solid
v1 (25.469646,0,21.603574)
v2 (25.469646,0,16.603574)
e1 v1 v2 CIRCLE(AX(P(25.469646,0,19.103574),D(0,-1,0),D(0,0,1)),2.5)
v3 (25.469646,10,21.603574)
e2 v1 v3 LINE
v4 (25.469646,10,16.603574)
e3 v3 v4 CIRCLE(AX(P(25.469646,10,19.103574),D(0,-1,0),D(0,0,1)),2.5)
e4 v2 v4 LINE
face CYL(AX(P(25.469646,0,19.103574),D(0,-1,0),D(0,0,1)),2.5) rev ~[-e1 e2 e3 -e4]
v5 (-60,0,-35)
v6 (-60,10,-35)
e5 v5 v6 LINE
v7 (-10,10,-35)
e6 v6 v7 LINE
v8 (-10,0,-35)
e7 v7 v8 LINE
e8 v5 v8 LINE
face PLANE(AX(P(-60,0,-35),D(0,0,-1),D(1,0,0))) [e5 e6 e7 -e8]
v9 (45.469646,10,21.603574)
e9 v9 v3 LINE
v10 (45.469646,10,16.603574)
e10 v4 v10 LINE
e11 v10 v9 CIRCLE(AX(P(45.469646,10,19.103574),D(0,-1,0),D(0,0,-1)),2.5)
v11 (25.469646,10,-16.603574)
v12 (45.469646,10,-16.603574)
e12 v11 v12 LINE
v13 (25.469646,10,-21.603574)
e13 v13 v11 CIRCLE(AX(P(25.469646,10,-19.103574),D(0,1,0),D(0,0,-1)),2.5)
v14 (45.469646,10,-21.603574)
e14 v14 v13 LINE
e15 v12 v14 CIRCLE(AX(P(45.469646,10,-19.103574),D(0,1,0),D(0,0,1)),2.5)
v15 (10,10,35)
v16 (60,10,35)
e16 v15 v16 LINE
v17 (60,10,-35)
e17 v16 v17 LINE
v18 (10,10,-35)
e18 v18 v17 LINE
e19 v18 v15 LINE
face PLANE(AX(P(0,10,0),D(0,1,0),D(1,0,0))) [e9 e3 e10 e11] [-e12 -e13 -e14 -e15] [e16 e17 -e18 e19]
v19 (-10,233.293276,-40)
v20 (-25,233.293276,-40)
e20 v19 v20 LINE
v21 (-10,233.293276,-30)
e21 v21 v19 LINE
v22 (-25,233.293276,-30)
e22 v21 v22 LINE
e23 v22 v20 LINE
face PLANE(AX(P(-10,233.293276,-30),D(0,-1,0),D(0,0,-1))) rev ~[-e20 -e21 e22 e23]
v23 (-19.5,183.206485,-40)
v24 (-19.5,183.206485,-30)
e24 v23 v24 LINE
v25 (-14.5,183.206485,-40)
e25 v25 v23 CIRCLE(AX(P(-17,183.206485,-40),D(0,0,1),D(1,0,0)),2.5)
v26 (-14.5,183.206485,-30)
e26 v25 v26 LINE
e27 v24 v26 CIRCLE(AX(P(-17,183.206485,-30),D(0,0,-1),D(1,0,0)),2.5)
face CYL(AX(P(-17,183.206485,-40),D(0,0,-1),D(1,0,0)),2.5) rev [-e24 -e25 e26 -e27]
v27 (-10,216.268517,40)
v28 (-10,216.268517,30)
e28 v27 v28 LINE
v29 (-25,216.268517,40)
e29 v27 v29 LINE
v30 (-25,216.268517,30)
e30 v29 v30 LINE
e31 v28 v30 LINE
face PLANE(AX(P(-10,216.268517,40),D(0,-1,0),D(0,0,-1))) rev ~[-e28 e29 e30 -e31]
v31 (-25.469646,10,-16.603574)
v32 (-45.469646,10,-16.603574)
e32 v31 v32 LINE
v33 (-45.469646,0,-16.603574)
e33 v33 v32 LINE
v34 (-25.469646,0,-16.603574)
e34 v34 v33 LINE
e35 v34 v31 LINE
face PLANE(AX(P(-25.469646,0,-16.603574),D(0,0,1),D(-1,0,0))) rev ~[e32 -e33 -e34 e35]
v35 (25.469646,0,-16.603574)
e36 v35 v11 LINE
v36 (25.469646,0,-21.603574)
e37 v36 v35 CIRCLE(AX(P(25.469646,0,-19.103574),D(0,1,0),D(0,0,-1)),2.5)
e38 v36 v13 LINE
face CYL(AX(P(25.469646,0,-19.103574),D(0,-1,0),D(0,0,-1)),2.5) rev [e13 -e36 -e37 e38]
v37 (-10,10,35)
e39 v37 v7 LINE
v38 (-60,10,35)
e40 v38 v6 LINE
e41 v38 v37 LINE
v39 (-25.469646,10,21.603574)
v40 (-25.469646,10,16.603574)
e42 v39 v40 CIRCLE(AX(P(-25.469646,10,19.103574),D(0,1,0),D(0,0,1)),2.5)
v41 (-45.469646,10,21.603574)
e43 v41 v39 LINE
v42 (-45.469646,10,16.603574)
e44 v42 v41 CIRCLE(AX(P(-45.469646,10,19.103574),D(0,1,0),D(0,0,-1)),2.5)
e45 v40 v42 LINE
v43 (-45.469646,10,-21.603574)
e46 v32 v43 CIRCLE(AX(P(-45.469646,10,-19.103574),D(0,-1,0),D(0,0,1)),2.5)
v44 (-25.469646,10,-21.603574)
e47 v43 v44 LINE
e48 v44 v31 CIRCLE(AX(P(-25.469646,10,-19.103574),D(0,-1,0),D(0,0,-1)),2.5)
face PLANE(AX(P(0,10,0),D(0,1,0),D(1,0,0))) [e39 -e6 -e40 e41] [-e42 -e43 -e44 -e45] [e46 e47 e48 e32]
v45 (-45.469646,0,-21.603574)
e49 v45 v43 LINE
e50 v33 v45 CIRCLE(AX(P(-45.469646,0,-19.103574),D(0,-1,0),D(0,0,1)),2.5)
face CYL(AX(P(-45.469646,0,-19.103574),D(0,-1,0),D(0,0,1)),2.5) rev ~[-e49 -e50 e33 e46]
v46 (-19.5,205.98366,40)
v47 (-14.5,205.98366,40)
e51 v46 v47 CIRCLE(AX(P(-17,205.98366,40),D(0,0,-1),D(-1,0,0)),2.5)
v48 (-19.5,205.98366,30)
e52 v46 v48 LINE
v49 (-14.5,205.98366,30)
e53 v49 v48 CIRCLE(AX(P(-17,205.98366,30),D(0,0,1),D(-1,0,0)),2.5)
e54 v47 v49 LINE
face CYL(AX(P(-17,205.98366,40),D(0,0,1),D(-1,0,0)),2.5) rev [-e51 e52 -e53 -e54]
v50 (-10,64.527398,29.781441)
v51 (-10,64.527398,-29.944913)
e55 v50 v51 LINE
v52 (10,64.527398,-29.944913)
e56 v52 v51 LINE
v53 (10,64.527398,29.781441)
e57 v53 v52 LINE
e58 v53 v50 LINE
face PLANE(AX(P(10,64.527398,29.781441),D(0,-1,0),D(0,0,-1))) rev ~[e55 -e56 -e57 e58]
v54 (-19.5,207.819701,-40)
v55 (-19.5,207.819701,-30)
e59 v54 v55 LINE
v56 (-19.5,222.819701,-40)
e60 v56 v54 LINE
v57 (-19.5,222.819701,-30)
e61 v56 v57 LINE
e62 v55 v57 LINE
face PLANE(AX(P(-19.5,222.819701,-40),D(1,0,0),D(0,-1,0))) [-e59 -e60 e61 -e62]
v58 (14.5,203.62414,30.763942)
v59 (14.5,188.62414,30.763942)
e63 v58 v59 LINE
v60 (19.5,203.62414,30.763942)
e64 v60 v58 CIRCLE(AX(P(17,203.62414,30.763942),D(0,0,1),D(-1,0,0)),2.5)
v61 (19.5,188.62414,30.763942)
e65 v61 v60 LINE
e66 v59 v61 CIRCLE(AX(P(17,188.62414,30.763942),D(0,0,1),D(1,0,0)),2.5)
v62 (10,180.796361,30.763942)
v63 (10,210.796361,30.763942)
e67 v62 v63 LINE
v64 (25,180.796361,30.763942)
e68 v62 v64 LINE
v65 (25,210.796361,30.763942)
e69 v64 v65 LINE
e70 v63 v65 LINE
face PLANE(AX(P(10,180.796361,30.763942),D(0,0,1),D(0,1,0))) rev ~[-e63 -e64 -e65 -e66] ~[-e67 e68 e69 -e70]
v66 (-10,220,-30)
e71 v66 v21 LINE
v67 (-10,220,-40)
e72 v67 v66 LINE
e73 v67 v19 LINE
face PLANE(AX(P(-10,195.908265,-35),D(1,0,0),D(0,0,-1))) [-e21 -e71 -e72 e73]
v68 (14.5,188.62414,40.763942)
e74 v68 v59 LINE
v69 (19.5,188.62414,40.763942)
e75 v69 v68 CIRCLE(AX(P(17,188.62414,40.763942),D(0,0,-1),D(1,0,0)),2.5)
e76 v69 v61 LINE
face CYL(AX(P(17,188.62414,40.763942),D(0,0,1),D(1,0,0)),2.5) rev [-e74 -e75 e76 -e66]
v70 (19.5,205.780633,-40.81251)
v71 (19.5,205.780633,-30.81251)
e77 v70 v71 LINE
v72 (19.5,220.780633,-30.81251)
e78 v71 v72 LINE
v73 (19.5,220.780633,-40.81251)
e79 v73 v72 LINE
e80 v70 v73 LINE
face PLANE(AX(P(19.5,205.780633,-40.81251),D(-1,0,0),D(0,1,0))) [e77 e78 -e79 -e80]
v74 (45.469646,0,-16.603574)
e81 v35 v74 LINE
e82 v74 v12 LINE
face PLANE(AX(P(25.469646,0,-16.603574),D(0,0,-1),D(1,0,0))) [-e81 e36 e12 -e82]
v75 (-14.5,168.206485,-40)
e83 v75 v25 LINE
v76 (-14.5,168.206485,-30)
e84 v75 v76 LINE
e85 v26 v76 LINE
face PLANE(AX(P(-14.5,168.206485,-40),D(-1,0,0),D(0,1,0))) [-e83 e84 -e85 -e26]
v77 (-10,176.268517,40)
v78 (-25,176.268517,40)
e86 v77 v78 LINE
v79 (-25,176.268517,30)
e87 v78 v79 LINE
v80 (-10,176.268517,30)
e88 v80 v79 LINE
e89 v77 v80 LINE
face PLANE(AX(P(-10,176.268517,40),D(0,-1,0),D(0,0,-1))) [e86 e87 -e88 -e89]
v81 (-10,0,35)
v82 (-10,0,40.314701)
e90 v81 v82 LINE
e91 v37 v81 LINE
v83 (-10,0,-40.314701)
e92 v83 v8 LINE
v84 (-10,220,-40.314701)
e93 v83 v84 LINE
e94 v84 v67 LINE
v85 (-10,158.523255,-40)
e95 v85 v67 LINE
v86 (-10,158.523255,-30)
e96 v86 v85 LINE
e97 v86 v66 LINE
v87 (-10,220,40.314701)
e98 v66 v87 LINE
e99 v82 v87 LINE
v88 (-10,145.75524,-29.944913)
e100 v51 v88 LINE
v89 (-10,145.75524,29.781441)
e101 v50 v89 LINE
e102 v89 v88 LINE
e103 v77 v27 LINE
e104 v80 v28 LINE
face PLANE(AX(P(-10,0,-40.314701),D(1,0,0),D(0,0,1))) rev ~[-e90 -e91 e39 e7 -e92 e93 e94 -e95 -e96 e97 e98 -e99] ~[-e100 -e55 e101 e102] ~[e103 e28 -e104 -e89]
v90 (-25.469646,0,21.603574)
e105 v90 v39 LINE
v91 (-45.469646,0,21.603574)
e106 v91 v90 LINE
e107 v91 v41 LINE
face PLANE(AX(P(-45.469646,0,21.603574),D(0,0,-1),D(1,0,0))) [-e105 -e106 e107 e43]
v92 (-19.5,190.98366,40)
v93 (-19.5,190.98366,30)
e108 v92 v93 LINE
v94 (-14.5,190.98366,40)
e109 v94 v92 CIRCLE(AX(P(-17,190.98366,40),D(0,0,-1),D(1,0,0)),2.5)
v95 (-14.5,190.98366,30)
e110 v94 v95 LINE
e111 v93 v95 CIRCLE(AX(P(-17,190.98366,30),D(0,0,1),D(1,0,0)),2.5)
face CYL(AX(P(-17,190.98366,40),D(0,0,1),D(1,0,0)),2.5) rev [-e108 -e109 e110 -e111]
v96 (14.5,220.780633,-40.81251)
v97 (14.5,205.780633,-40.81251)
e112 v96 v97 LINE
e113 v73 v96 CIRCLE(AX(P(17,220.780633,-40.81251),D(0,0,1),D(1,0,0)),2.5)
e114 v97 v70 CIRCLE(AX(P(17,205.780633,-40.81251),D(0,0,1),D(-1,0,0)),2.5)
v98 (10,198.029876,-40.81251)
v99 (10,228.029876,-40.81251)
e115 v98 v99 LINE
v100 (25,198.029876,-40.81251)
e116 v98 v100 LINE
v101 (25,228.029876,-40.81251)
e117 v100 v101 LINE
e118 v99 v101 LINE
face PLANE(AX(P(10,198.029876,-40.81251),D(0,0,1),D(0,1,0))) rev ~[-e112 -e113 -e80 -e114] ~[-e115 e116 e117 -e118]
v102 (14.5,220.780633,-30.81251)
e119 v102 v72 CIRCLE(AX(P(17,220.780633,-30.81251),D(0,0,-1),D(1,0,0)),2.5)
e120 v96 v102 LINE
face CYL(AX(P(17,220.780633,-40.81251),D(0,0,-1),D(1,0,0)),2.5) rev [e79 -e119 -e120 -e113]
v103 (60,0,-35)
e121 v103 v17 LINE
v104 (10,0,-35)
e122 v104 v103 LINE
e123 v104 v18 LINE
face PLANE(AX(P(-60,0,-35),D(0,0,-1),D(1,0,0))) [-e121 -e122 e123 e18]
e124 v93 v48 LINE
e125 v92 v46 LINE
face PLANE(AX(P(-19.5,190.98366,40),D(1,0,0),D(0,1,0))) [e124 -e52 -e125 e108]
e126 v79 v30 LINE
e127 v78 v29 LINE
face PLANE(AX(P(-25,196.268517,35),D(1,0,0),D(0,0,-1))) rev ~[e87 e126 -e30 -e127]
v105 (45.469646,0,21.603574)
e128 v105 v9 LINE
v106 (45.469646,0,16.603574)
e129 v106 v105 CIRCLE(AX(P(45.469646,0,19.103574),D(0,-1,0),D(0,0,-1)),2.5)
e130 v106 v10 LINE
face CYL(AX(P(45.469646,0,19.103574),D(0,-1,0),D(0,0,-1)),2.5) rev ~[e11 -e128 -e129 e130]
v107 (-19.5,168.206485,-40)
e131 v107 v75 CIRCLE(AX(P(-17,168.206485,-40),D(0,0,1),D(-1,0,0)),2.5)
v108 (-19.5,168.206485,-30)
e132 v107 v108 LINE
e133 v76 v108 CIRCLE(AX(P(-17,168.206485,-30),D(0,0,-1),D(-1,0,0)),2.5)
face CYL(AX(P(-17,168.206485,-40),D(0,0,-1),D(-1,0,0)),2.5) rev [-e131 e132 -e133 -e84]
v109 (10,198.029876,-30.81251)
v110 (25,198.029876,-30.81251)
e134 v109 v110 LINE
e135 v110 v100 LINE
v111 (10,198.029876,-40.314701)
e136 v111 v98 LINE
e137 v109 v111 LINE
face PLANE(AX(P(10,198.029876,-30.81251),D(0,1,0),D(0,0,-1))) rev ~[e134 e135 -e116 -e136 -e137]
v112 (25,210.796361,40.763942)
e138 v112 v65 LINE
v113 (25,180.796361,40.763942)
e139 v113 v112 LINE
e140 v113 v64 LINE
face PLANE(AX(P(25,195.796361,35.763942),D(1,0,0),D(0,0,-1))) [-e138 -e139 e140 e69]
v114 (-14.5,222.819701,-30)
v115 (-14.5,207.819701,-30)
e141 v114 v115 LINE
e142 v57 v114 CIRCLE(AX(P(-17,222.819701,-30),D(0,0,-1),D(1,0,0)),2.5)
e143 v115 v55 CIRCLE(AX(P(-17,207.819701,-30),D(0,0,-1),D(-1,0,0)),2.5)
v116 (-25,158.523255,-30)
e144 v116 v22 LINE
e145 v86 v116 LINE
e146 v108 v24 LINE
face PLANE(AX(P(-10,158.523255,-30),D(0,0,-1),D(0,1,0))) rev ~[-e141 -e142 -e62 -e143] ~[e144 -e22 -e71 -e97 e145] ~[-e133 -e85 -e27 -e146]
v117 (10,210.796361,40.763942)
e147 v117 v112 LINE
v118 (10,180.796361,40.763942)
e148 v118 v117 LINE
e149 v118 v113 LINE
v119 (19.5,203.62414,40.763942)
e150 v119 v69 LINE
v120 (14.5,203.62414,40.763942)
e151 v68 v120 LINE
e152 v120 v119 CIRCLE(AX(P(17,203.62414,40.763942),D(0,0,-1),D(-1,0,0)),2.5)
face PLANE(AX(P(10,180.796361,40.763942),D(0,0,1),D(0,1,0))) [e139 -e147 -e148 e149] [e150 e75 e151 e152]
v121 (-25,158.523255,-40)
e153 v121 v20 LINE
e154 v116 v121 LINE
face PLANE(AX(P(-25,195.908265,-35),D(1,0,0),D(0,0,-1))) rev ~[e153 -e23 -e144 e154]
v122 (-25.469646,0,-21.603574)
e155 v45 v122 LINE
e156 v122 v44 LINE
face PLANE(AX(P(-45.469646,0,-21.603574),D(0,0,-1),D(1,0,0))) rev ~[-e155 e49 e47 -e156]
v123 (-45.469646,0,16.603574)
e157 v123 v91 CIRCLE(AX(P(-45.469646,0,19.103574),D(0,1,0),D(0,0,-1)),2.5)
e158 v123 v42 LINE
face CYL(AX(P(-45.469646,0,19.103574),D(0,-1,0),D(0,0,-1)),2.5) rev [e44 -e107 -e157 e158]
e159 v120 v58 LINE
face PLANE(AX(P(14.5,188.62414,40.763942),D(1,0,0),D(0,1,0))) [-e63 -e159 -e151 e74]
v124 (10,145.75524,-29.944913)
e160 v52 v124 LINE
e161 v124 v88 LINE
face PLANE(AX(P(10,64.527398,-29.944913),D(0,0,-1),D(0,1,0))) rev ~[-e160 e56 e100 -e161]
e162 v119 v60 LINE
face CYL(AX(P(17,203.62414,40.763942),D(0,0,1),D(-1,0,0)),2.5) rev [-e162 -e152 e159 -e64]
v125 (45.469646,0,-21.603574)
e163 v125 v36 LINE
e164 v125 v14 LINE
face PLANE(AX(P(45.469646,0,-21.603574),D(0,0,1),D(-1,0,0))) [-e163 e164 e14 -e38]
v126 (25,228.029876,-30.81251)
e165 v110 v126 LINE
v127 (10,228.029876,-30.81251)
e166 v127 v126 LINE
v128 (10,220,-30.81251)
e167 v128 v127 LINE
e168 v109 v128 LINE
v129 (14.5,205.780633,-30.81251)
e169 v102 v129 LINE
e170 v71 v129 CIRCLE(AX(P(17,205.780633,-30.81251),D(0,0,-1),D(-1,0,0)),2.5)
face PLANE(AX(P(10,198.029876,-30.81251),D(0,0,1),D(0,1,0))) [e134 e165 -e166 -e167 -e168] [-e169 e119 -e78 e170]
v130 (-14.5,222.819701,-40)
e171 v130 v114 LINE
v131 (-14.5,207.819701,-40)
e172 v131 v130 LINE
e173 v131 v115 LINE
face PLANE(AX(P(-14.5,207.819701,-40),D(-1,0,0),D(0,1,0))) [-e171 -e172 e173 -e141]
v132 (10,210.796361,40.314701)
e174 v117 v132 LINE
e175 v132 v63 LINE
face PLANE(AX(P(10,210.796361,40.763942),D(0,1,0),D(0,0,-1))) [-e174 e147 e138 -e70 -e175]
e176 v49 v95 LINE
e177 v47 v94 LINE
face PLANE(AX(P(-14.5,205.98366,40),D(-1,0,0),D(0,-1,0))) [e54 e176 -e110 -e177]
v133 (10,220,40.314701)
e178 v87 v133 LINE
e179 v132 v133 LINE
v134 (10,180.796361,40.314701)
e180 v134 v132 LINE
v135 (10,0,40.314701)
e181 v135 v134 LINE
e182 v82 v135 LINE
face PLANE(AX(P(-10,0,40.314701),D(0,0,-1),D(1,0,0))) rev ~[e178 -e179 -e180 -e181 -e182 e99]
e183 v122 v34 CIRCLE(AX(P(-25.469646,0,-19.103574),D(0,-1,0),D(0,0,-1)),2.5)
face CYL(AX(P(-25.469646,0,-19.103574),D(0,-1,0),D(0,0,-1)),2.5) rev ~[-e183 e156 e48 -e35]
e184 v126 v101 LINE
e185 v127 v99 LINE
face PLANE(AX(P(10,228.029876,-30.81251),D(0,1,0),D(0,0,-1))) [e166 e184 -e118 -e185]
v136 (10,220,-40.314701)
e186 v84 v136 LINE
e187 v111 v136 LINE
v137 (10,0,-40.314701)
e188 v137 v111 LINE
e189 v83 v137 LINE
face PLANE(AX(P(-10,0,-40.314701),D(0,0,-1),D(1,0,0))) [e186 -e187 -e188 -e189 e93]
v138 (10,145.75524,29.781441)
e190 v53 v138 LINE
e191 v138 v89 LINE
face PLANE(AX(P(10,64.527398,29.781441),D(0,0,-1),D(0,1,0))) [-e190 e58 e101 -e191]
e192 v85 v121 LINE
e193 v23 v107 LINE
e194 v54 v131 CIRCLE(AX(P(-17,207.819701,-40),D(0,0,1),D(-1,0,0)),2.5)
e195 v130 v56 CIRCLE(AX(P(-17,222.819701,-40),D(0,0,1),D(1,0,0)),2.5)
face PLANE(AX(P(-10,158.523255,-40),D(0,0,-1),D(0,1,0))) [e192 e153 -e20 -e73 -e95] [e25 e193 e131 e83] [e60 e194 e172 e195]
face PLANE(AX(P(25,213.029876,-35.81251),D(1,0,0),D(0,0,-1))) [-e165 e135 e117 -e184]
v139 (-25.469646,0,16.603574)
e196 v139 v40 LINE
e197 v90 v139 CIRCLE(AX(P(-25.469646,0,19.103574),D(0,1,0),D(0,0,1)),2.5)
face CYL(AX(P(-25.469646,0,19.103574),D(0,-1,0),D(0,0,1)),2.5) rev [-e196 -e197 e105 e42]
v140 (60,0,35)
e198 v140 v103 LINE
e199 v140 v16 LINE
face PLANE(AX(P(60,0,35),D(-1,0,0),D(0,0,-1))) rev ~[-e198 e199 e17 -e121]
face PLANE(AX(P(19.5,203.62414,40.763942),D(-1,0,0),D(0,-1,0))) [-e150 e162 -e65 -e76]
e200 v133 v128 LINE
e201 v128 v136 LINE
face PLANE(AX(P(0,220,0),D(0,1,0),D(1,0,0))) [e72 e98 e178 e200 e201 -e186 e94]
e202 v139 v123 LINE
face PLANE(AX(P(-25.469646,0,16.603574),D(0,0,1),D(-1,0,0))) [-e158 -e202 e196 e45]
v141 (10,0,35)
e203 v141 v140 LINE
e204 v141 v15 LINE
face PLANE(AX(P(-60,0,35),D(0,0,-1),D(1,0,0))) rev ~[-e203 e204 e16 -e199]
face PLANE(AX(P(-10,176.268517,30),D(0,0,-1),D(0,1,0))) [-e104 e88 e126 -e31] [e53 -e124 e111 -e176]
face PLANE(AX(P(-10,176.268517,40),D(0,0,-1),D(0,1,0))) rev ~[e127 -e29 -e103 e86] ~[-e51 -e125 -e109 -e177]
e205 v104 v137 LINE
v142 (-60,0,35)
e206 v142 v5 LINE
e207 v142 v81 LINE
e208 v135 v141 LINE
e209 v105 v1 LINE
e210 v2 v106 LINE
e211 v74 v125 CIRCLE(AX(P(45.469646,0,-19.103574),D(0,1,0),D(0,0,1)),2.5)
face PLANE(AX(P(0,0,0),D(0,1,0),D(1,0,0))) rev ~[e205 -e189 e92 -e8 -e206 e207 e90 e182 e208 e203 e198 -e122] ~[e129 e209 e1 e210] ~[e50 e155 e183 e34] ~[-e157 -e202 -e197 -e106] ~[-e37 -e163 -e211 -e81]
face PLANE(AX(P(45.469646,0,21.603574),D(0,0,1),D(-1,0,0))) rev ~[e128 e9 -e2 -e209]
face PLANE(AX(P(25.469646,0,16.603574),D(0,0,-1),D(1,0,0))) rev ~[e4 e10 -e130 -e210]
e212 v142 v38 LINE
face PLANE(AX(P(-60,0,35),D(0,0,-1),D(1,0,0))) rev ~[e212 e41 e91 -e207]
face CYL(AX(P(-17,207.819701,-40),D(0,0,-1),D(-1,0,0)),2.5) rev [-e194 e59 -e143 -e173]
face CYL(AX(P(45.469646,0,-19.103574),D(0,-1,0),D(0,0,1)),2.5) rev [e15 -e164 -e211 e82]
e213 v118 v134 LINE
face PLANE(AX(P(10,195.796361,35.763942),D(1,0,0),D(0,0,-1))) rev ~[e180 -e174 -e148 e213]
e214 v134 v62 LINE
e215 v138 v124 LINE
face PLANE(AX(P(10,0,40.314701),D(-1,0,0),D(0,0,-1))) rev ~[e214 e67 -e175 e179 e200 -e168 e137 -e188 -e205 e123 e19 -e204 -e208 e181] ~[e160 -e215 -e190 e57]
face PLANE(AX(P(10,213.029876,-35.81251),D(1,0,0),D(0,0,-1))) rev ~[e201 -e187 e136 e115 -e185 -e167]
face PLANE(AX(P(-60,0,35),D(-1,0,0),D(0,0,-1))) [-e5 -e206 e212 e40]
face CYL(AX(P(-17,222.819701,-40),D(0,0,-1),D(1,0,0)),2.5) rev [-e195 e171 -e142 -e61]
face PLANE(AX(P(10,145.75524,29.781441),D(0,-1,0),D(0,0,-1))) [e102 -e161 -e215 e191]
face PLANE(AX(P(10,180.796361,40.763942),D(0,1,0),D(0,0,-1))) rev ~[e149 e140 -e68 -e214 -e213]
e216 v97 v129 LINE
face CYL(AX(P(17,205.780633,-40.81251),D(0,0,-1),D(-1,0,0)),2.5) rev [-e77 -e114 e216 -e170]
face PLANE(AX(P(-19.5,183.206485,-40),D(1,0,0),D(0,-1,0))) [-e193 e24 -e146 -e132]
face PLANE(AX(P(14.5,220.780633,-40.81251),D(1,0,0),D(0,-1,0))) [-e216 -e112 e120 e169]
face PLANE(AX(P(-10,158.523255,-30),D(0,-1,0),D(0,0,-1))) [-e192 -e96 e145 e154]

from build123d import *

# Parameters (mm, degrees)
SKETCH1_W           = 120
SKETCH1_H           = 70
BOSS_EXTRUDE1_DEPTH = 10
SKETCH1_3_W         = 20
SKETCH1_3_H         = 70
SKETCH1_3_H_2       = 5.314701235
BOSS_EXTRUDE2_DEPTH = 220
BOSS_EXTRUDE3_START = -20
SKETCH2_W           = 10
SKETCH2_H           = 40
SKETCH2_H_2         = 74.770020504
BOSS_EXTRUDE3_DEPTH = 15
SKETCH3_W           = 59.726354491
SKETCH3_H           = 81.227842107
CUT_EXTRUDE1_DEPTH  = 60
CUT_EXTRUDE2_REACH  = 255.922
CUT_EXTRUDE3_REACH  = 255.922
SKETCH6_W           = 10
SKETCH6_H           = 30
BOSS_EXTRUDE4_DEPTH = 15
CUT_EXTRUDE4_REACH  = 256.324
CUT_EXTRUDE5_REACH  = 256.324


with BuildPart() as part:
    # Sketch1 → Boss-Extrude1 (new body)
    with BuildSketch(Plane(origin=(0, 0, 0), x_dir=(1, 0, 0), z_dir=(0, 1, 0))):
        Rectangle(SKETCH1_W, SKETCH1_H)
        with BuildLine():
            Line((-45.469645663, 21.603573917), (-25.469645663, 21.603573917))
            ThreePointArc((-25.469645663, 21.603573917), (-22.969645663, 19.103573917), (-25.469645663, 16.603573917))
            Line((-25.469645663, 16.603573917), (-45.469645663, 16.603573917))
            ThreePointArc((-45.469645663, 16.603573917), (-47.969645663, 19.103573917), (-45.469645663, 21.603573917))
        make_face(mode=Mode.SUBTRACT)
        with BuildLine():
            Line((45.469645663, 21.603573917), (25.469645663, 21.603573917))
            ThreePointArc((25.469645663, 21.603573917), (22.969645663, 19.103573917), (25.469645663, 16.603573917))
            Line((25.469645663, 16.603573917), (45.469645663, 16.603573917))
            ThreePointArc((45.469645663, 16.603573917), (47.969645663, 19.103573917), (45.469645663, 21.603573917))
        make_face(mode=Mode.SUBTRACT)
        with BuildLine():
            Line((45.469645663, -21.603573917), (25.469645663, -21.603573917))
            ThreePointArc((25.469645663, -21.603573917), (22.969645663, -19.103573917), (25.469645663, -16.603573917))
            Line((25.469645663, -16.603573917), (45.469645663, -16.603573917))
            ThreePointArc((45.469645663, -16.603573917), (47.969645663, -19.103573917), (45.469645663, -21.603573917))
        make_face(mode=Mode.SUBTRACT)
        with BuildLine():
            Line((-45.469645663, -21.603573917), (-25.469645663, -21.603573917))
            ThreePointArc((-25.469645663, -21.603573917), (-22.969645663, -19.103573917), (-25.469645663, -16.603573917))
            Line((-25.469645663, -16.603573917), (-45.469645663, -16.603573917))
            ThreePointArc((-45.469645663, -16.603573917), (-47.969645663, -19.103573917), (-45.469645663, -21.603573917))
        make_face(mode=Mode.SUBTRACT)
    extrude(amount=BOSS_EXTRUDE1_DEPTH)

    # Sketch1<3> → Boss-Extrude2 (add)
    with BuildSketch(Plane(origin=(0, 0, 0), x_dir=(1, 0, 0), z_dir=(0, 1, 0))):
        Rectangle(SKETCH1_3_W, SKETCH1_3_H)
        with Locations((0, 37.657350618)):
            Rectangle(SKETCH1_3_W, SKETCH1_3_H_2)
        with Locations((0, -37.657350618)):
            Rectangle(SKETCH1_3_W, SKETCH1_3_H_2)
    extrude(amount=BOSS_EXTRUDE2_DEPTH)

    # Sketch2 → Boss-Extrude3 (add)
    with BuildSketch(Plane(origin=(10, 0, 0), x_dir=(0, 0, -1), z_dir=(1, 0, 0)).offset(BOSS_EXTRUDE3_START)):
        with Locations((-35, 196.268517414)):
            Rectangle(SKETCH2_W, SKETCH2_H)
        with Locations((35, 195.908265462)):
            Rectangle(SKETCH2_W, SKETCH2_H_2)
    extrude(amount=-BOSS_EXTRUDE3_DEPTH)

    # Sketch3 → Cut-Extrude1 (cut)
    with BuildSketch(Plane(origin=(10, 0, 0), x_dir=(0, 0, -1), z_dir=(1, 0, 0))):
        with Locations((0.081735862, 105.141319111)):
            Rectangle(SKETCH3_W, SKETCH3_H)
    extrude(amount=-CUT_EXTRUDE1_DEPTH, mode=Mode.SUBTRACT)

    # Sketch4 → Cut-Extrude2 (cut, up to next)
    with BuildSketch(Plane.XY.offset(40), mode=Mode.PRIVATE) as cut_extrude2_sk1:
        with BuildLine():
            Line((-14.5, 205.983659563), (-14.5, 190.983659563))
            ThreePointArc((-14.5, 190.983659563), (-17, 188.483659563), (-19.5, 190.983659563))
            Line((-19.5, 190.983659563), (-19.5, 205.983659563))
            ThreePointArc((-19.5, 205.983659563), (-17, 208.483659563), (-14.5, 205.983659563))
        make_face()
    cut_extrude2_tool1 = extrude(cut_extrude2_sk1.sketch, amount=-CUT_EXTRUDE2_REACH, mode=Mode.PRIVATE) & part.part
    add(cut_extrude2_tool1.solids().sort_by_distance((-17, 198.48366, 40))[0], mode=Mode.SUBTRACT)

    # Sketch5 → Cut-Extrude3 (cut, up to next)
    with BuildSketch(Plane(origin=(0, 0, -40), x_dir=(-1, 0, 0), z_dir=(0, 0, -1)), mode=Mode.PRIVATE) as cut_extrude3_sk1:
        with BuildLine():
            Line((19.5, 222.819701207), (19.5, 207.819701207))
            ThreePointArc((19.5, 207.819701207), (17, 205.319701207), (14.5, 207.819701207))
            Line((14.5, 207.819701207), (14.5, 222.819701207))
            ThreePointArc((14.5, 222.819701207), (17, 225.319701207), (19.5, 222.819701207))
        make_face()
    cut_extrude3_tool1 = extrude(cut_extrude3_sk1.sketch, amount=-CUT_EXTRUDE3_REACH, mode=Mode.PRIVATE) & part.part
    # Sketch5 → Cut-Extrude3 (cut, up to next)
    with BuildSketch(Plane(origin=(0, 0, -40), x_dir=(-1, 0, 0), z_dir=(0, 0, -1)), mode=Mode.PRIVATE) as cut_extrude3_sk2:
        with BuildLine():
            Line((19.5, 183.206485392), (19.5, 168.206485392))
            ThreePointArc((19.5, 168.206485392), (17, 165.706485392), (14.5, 168.206485392))
            Line((14.5, 168.206485392), (14.5, 183.206485392))
            ThreePointArc((14.5, 183.206485392), (17, 185.706485392), (19.5, 183.206485392))
        make_face()
    cut_extrude3_tool2 = extrude(cut_extrude3_sk2.sketch, amount=-CUT_EXTRUDE3_REACH, mode=Mode.PRIVATE) & part.part
    add(cut_extrude3_tool1.solids().sort_by_distance((-17, 215.319701, -40))[0], mode=Mode.SUBTRACT)
    add(cut_extrude3_tool2.solids().sort_by_distance((-17, 175.706485, -40))[0], mode=Mode.SUBTRACT)

    # Sketch6 → Boss-Extrude4 (add)
    with BuildSketch(Plane(origin=(10, 0, 0), x_dir=(0, 0, -1), z_dir=(1, 0, 0))):
        with Locations((-35.763941906, 195.796360994)):
            Rectangle(SKETCH6_W, SKETCH6_H)
        with Locations((35.812510383, 213.029875947)):
            Rectangle(SKETCH6_W, SKETCH6_H)
    extrude(amount=BOSS_EXTRUDE4_DEPTH)

    # Sketch7 → Cut-Extrude4 (cut, up to next)
    with BuildSketch(Plane.XY.offset(40.763941906), mode=Mode.PRIVATE) as cut_extrude4_sk1:
        with BuildLine():
            Line((19.5, 203.624140304), (19.5, 188.624140304))
            ThreePointArc((19.5, 188.624140304), (17, 186.124140304), (14.5, 188.624140304))
            Line((14.5, 188.624140304), (14.5, 203.624140304))
            ThreePointArc((14.5, 203.624140304), (17, 206.124140304), (19.5, 203.624140304))
        make_face()
    cut_extrude4_tool1 = extrude(cut_extrude4_sk1.sketch, amount=-CUT_EXTRUDE4_REACH, mode=Mode.PRIVATE) & part.part
    add(cut_extrude4_tool1.solids().sort_by_distance((17, 196.12414, 40.763942))[0], mode=Mode.SUBTRACT)

    # Sketch8 → Cut-Extrude5 (cut, up to next)
    with BuildSketch(Plane(origin=(0, 0, -40.812510383), x_dir=(-1, 0, 0), z_dir=(0, 0, -1)), mode=Mode.PRIVATE) as cut_extrude5_sk1:
        with BuildLine():
            Line((-14.5, 220.7806332), (-14.5, 205.7806332))
            ThreePointArc((-14.5, 205.7806332), (-17, 203.2806332), (-19.5, 205.7806332))
            Line((-19.5, 205.7806332), (-19.5, 220.7806332))
            ThreePointArc((-19.5, 220.7806332), (-17, 223.2806332), (-14.5, 220.7806332))
        make_face()
    cut_extrude5_tool1 = extrude(cut_extrude5_sk1.sketch, amount=-CUT_EXTRUDE5_REACH, mode=Mode.PRIVATE) & part.part
    add(cut_extrude5_tool1.solids().sort_by_distance((17, 213.280633, -40.81251))[0], mode=Mode.SUBTRACT)


solid = part.part
